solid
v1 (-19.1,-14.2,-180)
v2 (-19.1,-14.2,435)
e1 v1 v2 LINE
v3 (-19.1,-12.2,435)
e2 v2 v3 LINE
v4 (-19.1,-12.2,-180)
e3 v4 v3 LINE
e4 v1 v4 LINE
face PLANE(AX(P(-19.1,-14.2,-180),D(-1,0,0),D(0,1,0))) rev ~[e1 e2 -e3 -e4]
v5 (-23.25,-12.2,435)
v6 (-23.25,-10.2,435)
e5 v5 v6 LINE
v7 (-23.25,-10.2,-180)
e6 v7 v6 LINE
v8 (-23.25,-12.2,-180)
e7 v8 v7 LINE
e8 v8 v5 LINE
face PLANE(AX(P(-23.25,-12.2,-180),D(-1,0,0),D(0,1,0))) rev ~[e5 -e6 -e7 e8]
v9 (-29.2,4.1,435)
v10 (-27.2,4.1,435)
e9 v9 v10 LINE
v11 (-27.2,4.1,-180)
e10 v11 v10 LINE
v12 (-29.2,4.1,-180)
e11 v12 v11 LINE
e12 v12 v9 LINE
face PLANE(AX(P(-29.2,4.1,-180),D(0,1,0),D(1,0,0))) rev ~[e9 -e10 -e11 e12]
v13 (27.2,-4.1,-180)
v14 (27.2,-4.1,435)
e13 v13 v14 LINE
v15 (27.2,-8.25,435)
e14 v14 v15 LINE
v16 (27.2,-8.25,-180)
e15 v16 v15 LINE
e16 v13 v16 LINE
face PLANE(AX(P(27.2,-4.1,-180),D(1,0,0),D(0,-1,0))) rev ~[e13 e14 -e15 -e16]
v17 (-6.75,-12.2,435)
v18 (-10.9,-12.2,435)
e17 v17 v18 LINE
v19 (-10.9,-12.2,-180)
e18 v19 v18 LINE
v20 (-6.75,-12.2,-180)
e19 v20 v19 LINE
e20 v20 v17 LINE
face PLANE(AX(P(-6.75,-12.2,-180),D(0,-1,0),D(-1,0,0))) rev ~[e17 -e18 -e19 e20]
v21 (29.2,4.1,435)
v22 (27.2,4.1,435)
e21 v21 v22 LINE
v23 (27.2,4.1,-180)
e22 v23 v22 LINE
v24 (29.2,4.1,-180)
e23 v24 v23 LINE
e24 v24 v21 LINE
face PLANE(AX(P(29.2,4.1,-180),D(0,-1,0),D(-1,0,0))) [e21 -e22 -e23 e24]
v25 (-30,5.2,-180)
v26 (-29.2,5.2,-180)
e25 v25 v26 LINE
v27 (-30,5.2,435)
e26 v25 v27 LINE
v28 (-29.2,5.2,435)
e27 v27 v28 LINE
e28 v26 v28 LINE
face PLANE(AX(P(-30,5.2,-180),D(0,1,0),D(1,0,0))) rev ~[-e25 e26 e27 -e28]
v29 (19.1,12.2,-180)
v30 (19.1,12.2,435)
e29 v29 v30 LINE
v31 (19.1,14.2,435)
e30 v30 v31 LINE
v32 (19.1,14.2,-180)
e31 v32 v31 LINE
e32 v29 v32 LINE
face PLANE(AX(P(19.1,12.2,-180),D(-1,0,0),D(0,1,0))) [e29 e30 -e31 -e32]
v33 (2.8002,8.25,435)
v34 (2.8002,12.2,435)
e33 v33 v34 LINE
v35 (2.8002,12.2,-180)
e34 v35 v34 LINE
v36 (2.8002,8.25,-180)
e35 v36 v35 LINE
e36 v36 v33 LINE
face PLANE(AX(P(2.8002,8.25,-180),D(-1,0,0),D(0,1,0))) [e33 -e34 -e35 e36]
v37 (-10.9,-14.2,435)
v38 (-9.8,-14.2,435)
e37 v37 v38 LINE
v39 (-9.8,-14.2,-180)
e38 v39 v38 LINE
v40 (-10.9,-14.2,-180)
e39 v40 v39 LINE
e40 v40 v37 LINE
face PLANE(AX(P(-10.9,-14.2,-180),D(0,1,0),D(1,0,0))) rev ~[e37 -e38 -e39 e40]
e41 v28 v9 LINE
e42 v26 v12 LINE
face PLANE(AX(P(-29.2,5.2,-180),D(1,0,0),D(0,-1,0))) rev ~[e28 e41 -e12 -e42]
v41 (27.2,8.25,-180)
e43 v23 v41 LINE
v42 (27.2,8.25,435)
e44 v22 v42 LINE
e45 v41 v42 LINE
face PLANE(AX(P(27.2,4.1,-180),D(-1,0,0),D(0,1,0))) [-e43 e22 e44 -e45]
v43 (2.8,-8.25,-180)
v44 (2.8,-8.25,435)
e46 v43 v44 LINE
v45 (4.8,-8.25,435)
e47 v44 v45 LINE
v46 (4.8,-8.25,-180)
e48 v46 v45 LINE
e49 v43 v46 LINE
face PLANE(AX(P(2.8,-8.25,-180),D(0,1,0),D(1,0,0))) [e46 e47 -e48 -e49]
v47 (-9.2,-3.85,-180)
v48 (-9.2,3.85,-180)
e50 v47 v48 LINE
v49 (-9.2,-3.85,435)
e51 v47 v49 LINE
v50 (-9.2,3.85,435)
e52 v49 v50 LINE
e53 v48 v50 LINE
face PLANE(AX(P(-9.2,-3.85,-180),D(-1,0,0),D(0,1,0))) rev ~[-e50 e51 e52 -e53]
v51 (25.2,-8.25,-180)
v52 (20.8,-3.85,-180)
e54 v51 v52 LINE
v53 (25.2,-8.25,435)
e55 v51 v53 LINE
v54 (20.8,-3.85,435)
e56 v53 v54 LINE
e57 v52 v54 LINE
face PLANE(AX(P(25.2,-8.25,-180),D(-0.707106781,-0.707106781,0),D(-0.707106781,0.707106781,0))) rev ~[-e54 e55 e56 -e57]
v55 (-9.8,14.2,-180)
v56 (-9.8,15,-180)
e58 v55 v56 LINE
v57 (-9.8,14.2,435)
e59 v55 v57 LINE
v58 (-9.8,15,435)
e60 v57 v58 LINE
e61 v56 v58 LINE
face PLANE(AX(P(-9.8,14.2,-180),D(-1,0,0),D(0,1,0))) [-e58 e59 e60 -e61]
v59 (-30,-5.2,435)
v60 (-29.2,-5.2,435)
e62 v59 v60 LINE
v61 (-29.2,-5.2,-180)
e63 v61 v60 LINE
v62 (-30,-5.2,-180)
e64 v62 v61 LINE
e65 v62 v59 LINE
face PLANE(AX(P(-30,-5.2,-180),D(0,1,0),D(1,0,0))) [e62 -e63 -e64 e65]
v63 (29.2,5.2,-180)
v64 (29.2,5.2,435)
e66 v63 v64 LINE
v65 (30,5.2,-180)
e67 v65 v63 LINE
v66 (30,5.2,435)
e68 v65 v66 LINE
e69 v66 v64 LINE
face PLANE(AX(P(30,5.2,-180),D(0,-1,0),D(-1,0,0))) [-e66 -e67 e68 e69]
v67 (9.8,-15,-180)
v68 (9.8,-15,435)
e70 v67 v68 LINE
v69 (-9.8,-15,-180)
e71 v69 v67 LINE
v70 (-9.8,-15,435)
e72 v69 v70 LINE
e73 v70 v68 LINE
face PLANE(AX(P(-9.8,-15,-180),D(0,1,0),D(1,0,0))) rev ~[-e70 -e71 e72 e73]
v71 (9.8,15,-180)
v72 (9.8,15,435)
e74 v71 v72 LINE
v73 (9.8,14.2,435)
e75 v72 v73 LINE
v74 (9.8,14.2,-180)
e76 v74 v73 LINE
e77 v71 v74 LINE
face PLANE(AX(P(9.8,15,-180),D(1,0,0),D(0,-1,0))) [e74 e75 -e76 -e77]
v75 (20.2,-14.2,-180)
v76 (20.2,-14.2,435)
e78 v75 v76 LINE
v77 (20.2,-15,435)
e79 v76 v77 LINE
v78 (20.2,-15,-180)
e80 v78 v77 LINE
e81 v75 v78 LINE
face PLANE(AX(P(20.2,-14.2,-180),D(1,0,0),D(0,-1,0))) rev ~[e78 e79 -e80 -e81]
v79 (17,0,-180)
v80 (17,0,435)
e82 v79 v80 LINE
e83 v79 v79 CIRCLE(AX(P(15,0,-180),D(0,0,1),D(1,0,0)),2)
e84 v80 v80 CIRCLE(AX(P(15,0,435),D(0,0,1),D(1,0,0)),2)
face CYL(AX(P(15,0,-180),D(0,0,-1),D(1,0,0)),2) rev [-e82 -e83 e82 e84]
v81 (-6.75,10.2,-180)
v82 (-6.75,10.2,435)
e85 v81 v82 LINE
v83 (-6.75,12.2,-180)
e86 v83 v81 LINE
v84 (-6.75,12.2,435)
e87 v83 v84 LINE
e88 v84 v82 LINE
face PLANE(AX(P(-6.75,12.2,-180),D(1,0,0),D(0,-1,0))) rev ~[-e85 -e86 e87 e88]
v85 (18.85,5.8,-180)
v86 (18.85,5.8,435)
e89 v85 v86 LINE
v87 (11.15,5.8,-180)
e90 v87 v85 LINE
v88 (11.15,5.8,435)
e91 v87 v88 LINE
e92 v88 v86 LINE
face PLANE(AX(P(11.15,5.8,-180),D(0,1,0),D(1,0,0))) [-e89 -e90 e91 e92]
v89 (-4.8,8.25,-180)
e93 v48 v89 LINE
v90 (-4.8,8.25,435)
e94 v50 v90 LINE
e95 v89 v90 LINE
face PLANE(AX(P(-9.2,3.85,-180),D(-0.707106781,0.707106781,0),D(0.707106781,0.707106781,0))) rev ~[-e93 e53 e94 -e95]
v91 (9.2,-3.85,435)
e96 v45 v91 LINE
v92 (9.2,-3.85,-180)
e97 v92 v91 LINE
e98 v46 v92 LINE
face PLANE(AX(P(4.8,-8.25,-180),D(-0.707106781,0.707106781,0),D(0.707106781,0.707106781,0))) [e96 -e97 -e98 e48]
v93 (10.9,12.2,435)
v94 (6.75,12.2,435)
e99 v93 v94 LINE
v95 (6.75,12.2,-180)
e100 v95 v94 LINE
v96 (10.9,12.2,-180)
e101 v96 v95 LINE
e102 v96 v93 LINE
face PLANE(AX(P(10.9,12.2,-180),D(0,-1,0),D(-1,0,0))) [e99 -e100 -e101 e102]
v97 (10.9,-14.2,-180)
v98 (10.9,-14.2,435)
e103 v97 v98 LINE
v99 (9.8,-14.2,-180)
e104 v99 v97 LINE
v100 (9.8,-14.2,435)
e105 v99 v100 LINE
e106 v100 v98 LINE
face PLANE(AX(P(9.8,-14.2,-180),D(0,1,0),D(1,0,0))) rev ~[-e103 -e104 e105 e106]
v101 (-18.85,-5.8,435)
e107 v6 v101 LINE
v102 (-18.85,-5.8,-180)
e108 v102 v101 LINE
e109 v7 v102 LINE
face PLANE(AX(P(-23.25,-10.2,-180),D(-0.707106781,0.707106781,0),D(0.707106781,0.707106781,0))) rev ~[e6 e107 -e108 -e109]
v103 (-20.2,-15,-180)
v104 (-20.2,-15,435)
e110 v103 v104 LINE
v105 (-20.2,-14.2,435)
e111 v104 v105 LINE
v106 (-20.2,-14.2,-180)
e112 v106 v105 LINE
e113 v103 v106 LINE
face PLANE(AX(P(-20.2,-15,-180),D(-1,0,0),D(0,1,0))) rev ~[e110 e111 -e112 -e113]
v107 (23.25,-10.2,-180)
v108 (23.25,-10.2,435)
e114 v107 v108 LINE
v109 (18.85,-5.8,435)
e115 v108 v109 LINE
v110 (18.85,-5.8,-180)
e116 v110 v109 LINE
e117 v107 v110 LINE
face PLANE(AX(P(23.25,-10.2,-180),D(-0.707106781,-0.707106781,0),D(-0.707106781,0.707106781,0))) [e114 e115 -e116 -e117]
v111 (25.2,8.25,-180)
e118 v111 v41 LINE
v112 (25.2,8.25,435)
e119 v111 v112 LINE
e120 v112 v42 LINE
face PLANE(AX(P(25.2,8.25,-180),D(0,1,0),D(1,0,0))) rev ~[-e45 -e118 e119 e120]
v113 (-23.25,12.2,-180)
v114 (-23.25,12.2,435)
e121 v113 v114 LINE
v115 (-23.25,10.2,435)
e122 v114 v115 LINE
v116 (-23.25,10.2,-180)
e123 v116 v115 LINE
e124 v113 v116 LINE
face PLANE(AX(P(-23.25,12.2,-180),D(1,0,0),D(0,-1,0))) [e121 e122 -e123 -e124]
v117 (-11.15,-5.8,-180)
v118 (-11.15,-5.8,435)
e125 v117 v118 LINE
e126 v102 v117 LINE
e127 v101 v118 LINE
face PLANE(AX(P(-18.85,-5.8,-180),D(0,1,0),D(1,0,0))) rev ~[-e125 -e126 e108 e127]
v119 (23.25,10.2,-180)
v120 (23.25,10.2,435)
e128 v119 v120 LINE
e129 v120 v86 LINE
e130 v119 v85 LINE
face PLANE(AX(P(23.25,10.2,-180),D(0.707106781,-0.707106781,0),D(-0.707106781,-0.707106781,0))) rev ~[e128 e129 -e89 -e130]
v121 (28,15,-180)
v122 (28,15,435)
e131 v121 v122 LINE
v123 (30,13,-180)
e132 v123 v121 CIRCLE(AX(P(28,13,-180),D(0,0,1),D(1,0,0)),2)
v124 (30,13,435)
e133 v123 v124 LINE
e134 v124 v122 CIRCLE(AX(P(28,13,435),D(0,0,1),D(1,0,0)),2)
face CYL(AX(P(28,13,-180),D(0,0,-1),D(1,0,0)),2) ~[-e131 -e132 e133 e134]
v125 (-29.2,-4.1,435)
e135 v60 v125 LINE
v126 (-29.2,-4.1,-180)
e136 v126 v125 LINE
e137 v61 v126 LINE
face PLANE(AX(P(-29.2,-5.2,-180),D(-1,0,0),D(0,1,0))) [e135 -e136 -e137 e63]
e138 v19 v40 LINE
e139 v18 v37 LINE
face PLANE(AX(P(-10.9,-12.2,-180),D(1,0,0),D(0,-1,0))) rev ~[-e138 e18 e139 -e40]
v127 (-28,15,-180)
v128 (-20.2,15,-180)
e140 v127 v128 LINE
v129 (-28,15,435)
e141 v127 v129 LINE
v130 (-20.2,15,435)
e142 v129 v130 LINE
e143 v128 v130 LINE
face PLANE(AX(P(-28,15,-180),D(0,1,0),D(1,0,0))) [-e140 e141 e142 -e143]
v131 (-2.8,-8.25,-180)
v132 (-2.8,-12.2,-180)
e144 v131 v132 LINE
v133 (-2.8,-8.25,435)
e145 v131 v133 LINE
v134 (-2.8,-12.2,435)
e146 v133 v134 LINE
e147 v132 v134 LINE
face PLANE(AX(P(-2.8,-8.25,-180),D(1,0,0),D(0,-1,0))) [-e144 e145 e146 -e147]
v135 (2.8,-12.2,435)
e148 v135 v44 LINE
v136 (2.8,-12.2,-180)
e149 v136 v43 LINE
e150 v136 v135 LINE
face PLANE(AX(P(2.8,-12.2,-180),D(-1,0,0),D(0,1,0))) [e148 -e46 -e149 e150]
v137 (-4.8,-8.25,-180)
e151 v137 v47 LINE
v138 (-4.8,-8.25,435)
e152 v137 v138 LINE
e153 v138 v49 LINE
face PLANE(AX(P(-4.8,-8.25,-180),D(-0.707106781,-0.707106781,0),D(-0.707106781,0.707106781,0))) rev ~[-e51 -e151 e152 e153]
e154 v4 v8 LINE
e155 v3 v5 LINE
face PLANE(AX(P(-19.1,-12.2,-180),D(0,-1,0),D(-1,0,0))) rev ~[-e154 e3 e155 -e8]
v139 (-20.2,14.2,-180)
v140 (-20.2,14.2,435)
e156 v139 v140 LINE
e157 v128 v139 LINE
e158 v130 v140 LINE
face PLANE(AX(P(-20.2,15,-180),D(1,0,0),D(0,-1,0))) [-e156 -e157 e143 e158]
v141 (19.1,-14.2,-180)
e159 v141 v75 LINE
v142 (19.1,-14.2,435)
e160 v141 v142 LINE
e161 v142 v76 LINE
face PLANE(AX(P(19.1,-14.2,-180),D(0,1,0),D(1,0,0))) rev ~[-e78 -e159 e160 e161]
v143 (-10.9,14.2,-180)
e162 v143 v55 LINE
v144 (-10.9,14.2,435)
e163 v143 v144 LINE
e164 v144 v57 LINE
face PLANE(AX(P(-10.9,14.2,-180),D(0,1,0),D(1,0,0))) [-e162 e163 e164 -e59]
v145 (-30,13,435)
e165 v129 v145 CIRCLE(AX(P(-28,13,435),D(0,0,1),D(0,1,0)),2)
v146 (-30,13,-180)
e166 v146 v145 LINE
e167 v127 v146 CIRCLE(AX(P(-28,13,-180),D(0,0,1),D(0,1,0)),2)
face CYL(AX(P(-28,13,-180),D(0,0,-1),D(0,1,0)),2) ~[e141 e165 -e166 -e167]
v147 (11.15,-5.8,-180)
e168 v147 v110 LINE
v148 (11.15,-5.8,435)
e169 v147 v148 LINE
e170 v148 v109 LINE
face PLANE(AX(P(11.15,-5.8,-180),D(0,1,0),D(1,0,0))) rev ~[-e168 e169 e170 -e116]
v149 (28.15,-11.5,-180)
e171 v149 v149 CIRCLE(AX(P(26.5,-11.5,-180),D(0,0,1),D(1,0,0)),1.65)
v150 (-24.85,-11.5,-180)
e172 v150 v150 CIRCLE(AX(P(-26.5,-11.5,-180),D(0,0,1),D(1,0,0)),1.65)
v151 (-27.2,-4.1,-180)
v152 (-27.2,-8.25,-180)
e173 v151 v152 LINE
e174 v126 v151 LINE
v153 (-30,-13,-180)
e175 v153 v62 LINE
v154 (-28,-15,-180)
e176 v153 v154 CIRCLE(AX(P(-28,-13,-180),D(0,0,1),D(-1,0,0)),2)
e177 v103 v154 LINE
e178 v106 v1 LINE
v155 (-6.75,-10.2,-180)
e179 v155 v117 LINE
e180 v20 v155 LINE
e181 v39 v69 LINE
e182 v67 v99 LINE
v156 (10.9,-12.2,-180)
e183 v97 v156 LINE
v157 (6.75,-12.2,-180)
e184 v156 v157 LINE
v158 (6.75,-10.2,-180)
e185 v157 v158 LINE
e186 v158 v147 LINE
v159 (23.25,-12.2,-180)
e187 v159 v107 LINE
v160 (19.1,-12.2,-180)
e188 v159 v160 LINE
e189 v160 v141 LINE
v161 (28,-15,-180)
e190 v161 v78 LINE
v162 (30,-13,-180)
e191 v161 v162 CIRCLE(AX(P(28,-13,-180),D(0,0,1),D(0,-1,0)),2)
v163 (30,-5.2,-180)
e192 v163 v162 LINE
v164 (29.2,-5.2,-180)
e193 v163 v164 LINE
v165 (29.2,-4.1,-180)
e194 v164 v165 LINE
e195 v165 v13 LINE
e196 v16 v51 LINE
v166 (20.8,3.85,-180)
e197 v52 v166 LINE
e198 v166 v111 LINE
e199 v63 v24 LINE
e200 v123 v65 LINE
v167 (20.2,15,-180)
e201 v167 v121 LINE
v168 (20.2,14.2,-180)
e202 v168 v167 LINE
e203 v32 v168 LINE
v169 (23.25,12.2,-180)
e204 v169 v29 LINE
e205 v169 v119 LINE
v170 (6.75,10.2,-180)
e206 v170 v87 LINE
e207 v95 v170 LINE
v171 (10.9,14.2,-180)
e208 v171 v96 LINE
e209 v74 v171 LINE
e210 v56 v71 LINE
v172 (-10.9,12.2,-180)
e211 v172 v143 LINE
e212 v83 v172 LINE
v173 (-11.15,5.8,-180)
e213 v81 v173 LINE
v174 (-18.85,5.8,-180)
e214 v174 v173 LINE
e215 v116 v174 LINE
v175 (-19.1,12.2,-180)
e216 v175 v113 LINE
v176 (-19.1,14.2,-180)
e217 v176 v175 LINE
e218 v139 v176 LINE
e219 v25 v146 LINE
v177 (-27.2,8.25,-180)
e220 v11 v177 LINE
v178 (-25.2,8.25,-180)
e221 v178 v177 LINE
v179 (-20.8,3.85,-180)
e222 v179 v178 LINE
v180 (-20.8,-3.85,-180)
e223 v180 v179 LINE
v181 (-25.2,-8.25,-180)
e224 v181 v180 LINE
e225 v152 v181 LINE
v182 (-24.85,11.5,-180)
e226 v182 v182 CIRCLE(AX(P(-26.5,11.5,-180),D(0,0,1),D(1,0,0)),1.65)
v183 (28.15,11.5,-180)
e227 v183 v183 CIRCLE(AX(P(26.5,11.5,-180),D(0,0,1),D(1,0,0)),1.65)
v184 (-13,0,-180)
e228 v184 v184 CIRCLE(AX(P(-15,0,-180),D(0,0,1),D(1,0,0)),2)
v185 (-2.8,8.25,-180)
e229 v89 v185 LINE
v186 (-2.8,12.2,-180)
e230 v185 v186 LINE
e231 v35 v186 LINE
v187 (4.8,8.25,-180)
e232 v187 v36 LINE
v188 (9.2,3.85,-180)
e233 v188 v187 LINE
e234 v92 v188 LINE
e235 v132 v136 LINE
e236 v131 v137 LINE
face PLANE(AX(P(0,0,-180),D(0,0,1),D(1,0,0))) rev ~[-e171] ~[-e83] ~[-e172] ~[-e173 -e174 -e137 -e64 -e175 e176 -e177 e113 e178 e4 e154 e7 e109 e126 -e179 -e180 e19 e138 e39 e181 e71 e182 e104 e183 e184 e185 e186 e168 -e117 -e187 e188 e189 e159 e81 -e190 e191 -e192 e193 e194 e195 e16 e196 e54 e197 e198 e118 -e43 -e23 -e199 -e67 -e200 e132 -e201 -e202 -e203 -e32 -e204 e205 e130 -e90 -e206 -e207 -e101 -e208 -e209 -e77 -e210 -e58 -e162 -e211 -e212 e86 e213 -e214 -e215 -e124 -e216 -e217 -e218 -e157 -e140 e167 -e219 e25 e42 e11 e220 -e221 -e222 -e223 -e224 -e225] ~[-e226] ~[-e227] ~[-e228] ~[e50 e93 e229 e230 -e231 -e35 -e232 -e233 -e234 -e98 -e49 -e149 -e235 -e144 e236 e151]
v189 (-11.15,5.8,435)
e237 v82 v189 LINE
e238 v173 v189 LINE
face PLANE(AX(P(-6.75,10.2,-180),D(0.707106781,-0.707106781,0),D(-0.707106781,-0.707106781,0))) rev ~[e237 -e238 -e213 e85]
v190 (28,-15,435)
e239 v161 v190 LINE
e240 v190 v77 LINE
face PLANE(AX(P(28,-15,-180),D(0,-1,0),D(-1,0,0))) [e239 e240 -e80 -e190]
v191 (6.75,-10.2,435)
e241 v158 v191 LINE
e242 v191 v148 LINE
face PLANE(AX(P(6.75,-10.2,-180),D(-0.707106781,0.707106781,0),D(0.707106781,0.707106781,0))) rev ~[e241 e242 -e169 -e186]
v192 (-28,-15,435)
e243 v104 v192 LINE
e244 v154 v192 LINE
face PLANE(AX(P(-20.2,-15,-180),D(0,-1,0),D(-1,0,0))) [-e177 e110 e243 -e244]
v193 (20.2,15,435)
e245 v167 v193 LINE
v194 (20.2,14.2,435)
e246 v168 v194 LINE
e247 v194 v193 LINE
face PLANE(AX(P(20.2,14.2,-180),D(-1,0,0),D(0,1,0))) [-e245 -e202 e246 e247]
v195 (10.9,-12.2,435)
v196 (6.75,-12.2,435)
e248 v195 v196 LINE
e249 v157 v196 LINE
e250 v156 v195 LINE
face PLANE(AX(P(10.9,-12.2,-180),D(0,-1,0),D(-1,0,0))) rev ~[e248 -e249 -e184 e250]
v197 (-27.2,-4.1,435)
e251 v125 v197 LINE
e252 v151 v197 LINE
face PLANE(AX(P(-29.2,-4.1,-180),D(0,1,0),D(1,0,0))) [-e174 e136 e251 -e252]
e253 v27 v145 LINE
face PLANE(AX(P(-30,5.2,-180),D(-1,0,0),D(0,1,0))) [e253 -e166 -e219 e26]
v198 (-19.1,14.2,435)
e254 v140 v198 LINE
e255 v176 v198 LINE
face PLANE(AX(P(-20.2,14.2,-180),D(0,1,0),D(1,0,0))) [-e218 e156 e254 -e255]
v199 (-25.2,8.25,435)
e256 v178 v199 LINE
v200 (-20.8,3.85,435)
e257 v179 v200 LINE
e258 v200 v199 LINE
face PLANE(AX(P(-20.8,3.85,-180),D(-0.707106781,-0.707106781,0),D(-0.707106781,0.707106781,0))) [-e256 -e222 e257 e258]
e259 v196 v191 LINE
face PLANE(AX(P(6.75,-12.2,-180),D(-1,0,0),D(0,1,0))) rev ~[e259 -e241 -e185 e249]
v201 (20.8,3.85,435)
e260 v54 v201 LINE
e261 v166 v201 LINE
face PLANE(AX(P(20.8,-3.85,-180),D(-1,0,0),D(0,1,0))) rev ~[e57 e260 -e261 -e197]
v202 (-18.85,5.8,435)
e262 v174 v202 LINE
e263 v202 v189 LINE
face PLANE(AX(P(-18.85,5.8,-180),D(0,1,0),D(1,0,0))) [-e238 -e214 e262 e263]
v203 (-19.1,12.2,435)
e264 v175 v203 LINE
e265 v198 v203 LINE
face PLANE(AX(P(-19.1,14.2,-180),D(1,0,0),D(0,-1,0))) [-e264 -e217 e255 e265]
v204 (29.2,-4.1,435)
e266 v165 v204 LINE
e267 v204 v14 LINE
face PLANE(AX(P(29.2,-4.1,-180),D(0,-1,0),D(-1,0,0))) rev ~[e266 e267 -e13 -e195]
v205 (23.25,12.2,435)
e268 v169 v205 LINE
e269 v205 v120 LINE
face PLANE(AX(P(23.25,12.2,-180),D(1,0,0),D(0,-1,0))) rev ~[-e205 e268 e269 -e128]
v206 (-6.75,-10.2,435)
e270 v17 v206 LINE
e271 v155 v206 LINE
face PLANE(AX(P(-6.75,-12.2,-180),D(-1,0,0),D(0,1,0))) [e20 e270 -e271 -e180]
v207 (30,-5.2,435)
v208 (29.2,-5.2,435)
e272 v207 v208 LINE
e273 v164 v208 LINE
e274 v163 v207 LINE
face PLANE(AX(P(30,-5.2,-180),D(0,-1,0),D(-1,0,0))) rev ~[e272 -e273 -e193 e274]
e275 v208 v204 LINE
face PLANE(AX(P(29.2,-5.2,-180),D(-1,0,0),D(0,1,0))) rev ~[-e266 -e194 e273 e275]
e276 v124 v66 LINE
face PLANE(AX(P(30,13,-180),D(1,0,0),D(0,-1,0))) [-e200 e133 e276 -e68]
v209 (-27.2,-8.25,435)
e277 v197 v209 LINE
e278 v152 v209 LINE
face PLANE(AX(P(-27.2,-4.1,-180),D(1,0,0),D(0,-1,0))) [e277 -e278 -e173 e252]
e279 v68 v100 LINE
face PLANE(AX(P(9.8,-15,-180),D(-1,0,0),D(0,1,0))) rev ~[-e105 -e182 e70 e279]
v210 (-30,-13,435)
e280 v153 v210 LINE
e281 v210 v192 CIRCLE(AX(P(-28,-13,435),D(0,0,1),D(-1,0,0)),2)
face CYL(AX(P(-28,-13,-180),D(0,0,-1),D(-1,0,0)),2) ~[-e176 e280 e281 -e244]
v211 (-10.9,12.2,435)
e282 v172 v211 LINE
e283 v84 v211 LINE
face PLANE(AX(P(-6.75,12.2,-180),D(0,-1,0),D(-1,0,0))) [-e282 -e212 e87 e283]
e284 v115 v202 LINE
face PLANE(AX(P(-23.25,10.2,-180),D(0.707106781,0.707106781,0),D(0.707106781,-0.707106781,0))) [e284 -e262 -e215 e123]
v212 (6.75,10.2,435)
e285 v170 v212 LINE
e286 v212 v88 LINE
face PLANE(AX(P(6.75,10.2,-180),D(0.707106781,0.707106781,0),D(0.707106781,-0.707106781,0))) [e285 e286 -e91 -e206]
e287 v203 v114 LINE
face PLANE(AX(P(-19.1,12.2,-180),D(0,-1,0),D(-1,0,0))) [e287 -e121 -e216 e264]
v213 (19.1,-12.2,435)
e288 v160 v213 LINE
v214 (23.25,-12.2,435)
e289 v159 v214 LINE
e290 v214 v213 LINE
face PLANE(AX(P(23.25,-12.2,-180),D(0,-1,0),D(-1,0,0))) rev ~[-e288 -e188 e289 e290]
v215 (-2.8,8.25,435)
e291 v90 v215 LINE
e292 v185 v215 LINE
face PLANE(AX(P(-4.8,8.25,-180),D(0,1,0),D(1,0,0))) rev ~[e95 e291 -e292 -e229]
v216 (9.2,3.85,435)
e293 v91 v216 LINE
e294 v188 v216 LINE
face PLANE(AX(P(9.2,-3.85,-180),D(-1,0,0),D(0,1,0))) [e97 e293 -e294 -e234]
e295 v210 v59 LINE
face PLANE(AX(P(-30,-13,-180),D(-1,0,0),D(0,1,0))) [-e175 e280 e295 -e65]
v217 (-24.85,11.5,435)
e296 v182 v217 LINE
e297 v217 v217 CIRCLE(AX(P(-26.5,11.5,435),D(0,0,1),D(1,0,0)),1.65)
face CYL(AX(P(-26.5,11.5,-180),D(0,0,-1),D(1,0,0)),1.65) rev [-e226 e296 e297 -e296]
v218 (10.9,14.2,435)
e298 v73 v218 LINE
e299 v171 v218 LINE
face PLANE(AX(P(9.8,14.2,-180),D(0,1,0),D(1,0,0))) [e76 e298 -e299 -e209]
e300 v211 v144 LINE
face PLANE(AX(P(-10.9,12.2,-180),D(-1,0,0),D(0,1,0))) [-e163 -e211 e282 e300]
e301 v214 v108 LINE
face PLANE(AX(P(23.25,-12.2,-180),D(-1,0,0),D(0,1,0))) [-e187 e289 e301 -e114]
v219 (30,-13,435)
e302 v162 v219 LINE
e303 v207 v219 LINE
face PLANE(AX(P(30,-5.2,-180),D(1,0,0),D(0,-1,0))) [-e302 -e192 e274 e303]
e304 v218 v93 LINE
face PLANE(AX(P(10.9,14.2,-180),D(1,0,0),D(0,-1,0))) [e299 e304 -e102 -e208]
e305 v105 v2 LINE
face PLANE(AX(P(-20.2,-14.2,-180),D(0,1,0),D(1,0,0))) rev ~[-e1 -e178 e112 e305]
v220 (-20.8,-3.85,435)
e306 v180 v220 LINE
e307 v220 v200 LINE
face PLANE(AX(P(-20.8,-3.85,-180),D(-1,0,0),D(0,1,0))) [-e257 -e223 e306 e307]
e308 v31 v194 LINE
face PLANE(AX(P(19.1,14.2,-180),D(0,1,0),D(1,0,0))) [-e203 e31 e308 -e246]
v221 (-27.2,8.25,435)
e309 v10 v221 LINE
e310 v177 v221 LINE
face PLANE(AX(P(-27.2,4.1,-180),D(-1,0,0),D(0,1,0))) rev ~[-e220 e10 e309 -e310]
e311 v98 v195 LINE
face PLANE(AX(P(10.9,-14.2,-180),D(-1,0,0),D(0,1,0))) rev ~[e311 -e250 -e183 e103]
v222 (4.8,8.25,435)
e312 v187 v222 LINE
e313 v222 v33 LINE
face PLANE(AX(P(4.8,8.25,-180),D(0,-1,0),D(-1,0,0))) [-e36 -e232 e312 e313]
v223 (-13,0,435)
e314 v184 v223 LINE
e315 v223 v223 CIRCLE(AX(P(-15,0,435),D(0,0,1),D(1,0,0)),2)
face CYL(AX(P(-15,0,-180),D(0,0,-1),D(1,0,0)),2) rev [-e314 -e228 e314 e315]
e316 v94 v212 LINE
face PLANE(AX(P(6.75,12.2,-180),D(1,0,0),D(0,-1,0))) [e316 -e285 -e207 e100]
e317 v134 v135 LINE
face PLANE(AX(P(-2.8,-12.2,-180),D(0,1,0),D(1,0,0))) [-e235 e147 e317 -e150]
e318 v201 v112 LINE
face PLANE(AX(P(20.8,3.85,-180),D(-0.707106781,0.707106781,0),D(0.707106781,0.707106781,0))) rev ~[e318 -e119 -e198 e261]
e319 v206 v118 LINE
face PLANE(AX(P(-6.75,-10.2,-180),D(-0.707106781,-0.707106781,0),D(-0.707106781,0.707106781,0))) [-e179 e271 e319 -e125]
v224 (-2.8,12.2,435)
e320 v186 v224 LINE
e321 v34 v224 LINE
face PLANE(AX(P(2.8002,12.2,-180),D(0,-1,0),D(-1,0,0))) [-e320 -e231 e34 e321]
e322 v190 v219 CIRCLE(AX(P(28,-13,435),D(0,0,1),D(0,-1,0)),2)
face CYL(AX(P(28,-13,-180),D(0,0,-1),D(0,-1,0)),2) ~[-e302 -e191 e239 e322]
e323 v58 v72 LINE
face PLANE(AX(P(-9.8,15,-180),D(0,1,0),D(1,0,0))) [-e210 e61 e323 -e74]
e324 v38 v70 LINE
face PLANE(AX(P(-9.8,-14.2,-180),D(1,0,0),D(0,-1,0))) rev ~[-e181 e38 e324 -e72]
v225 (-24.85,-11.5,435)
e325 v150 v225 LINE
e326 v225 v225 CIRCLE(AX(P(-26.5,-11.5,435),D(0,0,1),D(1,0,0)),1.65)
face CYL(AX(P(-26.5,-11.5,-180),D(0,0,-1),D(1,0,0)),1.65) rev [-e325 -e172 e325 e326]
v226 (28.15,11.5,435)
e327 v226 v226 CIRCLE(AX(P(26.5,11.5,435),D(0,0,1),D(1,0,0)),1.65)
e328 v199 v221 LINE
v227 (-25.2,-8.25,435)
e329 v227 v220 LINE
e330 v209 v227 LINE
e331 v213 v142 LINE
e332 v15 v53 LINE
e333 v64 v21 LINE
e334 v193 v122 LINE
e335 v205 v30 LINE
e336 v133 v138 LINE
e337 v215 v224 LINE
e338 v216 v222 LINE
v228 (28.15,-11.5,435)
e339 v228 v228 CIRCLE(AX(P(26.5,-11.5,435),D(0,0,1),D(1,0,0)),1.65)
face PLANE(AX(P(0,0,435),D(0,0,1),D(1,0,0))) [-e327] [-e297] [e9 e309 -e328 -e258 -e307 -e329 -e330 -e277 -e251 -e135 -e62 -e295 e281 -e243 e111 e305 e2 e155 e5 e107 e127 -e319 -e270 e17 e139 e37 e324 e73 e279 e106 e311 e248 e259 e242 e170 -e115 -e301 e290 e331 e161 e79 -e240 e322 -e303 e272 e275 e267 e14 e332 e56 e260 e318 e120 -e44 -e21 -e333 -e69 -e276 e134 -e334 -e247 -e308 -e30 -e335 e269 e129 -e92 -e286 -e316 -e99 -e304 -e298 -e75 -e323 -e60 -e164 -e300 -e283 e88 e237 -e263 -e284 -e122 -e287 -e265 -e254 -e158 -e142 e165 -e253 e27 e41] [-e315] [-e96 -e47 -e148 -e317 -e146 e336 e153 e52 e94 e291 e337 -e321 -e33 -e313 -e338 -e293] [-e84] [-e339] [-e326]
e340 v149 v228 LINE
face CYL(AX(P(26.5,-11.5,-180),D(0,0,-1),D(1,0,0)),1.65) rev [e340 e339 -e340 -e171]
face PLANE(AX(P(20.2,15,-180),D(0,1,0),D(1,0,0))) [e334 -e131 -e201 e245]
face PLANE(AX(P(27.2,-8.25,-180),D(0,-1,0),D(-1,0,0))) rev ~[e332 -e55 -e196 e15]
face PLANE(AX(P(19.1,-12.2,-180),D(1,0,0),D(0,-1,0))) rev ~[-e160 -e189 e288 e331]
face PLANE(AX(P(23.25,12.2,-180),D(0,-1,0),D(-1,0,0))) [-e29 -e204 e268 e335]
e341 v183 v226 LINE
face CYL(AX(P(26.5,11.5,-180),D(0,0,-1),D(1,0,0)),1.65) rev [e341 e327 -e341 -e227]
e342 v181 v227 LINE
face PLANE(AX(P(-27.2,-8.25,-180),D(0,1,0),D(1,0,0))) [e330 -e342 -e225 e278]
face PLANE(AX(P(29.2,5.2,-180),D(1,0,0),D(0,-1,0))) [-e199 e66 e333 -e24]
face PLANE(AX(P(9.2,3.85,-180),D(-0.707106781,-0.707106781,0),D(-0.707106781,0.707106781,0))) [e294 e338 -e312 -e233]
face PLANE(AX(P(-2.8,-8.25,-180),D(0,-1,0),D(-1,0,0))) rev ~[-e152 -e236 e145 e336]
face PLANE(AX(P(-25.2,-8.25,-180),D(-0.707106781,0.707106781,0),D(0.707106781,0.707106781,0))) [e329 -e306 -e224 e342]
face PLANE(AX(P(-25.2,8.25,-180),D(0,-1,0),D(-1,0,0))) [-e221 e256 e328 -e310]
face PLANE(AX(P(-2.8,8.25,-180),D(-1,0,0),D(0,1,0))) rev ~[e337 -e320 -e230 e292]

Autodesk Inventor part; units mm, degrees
ref_plane "Start Plane" through (0, 0, -180) normal (0, 0, 1) x (1, 0, 0)
ref_plane "End Plane" through (0, 0, 435) normal (0, 0, 1) x (1, 0, 0)
sketch "Sketch" plane through (0, 0, 0) normal (0, 0, 1) x (1, 0, 0)
  line L0 (-30, 15) -> (0, -15) construction
  line L1 (0, 15) -> (-30, -15) construction
  line L2 (-20.2, 15) -> (-20.2, 14.2)
  line L3 (-20.2, 14.2) -> (-19.1, 14.2)
  line L4 (-19.1, 14.2) -> (-19.1, 12.2)
  line L5 (-19.1, 12.2) -> (-23.25, 12.2)
  line L6 (-23.25, 12.2) -> (-23.25, 10.2)
  line L7 (-23.25, 10.2) -> (-18.85, 5.8)
  line L8 (-18.85, 5.8) -> (-11.15, 5.8)
  line L9 (-6.75, 12.2) -> (-10.9, 12.2)
  line L10 (-10.9, 12.2) -> (-10.9, 14.2)
  line L11 (-10.9, 14.2) -> (-9.8, 14.2)
  line L12 (-9.8, 14.2) -> (-9.8, 15)
  line L13 (-6.75, 12.2) -> (-6.75, 10.2)
  line L14 (-6.75, 10.2) -> (-11.15, 5.8)
  line L15 (-20.2, -15) -> (-20.2, -14.2)
  line L16 (-20.2, -14.2) -> (-19.1, -14.2)
  line L17 (-19.1, -14.2) -> (-19.1, -12.2)
  line L18 (-19.1, -12.2) -> (-23.25, -12.2)
  line L19 (-23.25, -12.2) -> (-23.25, -10.2)
  line L20 (-23.25, -10.2) -> (-18.85, -5.8)
  line L21 (-18.85, -5.8) -> (-11.15, -5.8)
  line L22 (-6.75, -10.2) -> (-11.15, -5.8)
  line L23 (-6.75, -12.2) -> (-6.75, -10.2)
  line L24 (-6.75, -12.2) -> (-10.9, -12.2)
  line L25 (-10.9, -12.2) -> (-10.9, -14.2)
  line L26 (-10.9, -14.2) -> (-9.8, -14.2)
  line L27 (-9.8, -14.2) -> (-9.8, -15)
  line L28 (-2.8, -8.25) -> (-4.8, -8.25)
  line L29 (-4.8, -8.25) -> (-9.2, -3.85)
  line L30 (-9.2, -3.85) -> (-9.2, 3.85)
  line L31 (-9.2, 3.85) -> (-4.8, 8.25)
  line L32 (-4.8, 8.25) -> (-2.8, 8.25)
  line L33 (-30, 5.2) -> (-29.2, 5.2)
  line L34 (-29.2, 5.2) -> (-29.2, 4.1)
  line L35 (-29.2, 4.1) -> (-27.2, 4.1)
  line L36 (-27.2, 4.1) -> (-27.2, 8.25)
  line L37 (-25.2, 8.25) -> (-27.2, 8.25)
  line L38 (-20.8, 3.85) -> (-25.2, 8.25)
  line L39 (-20.8, -3.85) -> (-20.8, 3.85)
  line L40 (-25.2, -8.25) -> (-20.8, -3.85)
  line L41 (-27.2, -4.1) -> (-27.2, -8.25)
  line L42 (-29.2, -4.1) -> (-27.2, -4.1)
  line L43 (-29.2, -5.2) -> (-29.2, -4.1)
  line L44 (-30, -5.2) -> (-29.2, -5.2)
  line L45 (-27.2, -8.25) -> (-25.2, -8.25)
  circle A0 centre (-26.5, 11.5) radius 1.65
  circle A1 centre (-26.5, -11.5) radius 1.65
  line L46 (-30, -13) -> (-30, -5.2)
  line L47 (-30, 5.2) -> (-30, 13)
  line L48 (-20.2, -15) -> (-28, -15)
  line L49 (0, 15) -> (30, -15) construction
  line L50 (30, 15) -> (0, -15) construction
  line L51 (9.8, 15) -> (9.8, 14.2)
  line L52 (9.8, 14.2) -> (10.9, 14.2)
  line L53 (10.9, 14.2) -> (10.9, 12.2)
  line L54 (10.9, 12.2) -> (6.75, 12.2)
  line L55 (6.75, 12.2) -> (6.75, 10.2)
  line L56 (6.75, 10.2) -> (11.15, 5.8)
  line L57 (11.15, 5.8) -> (18.85, 5.8)
  line L58 (23.25, 12.2) -> (19.1, 12.2)
  line L59 (19.1, 12.2) -> (19.1, 14.2)
  line L60 (19.1, 14.2) -> (20.2, 14.2)
  line L61 (20.2, 14.2) -> (20.2, 15)
  line L62 (23.25, 12.2) -> (23.25, 10.2)
  line L63 (23.25, 10.2) -> (18.85, 5.8)
  line L64 (9.8, -15) -> (9.8, -14.2)
  line L65 (9.8, -14.2) -> (10.9, -14.2)
  line L66 (10.9, -14.2) -> (10.9, -12.2)
  line L67 (10.9, -12.2) -> (6.75, -12.2)
  line L68 (6.75, -12.2) -> (6.75, -10.2)
  line L69 (6.75, -10.2) -> (11.15, -5.8)
  line L70 (11.15, -5.8) -> (18.85, -5.8)
  line L71 (23.25, -10.2) -> (18.85, -5.8)
  line L72 (23.25, -12.2) -> (23.25, -10.2)
  line L73 (23.25, -12.2) -> (19.1, -12.2)
  line L74 (19.1, -12.2) -> (19.1, -14.2)
  line L75 (19.1, -14.2) -> (20.2, -14.2)
  line L76 (20.2, -14.2) -> (20.2, -15)
  line L77 (30, 5.2) -> (29.2, 5.2)
  line L78 (29.2, 5.2) -> (29.2, 4.1)
  line L79 (29.2, 4.1) -> (27.2, 4.1)
  line L80 (27.2, 4.1) -> (27.2, 8.25)
  line L81 (30, -5.2) -> (29.2, -5.2)
  line L82 (29.2, -5.2) -> (29.2, -4.1)
  line L83 (29.2, -4.1) -> (27.2, -4.1)
  line L84 (27.2, -4.1) -> (27.2, -8.25)
  line L85 (27.2, -8.25) -> (25.2, -8.25)
  line L86 (25.2, -8.25) -> (20.8, -3.85)
  line L87 (20.8, -3.85) -> (20.8, 3.85)
  line L88 (20.8, 3.85) -> (25.2, 8.25)
  line L89 (25.2, 8.25) -> (27.2, 8.25)
  line L90 (4.8, 8.25) -> (2.8002, 8.25)
  line L91 (9.2, 3.85) -> (4.8, 8.25)
  line L92 (9.2, -3.85) -> (9.2, 3.85)
  line L93 (4.8, -8.25) -> (9.2, -3.85)
  line L94 (2.8, -8.25) -> (4.8, -8.25)
  circle A2 centre (26.5, 11.5) radius 1.65
  circle A3 centre (26.5, -11.5) radius 1.65
  line L95 (28, -15) -> (20.2, -15)
  circle A4 centre (-15, 0) radius 2
  circle A5 centre (15, 0) radius 2
  line L96 (-2.8, 8.25) -> (-2.8, 12.2)
  line L97 (2.8002, 8.25) -> (2.8002, 12.2)
  line L98 (2.8002, 12.2) -> (-2.8, 12.2)
  line L99 (-2.8, -8.25) -> (-2.8, -12.2)
  line L100 (-2.8, -12.2) -> (2.8, -12.2)
  line L101 (2.8, -12.2) -> (2.8, -8.25)
  line L102 (30, 13) -> (30, 5.2)
  line L103 (30, -5.2) -> (30, -13)
  arc A6 (-28, 15) -> (-30, 13) centre (-28, 13) ccw
  arc A7 (30, 13) -> (28, 15) centre (28, 13) ccw
  arc A8 (28, -15) -> (30, -13) centre (28, -13) ccw
  arc A9 (-30, -13) -> (-28, -15) centre (-28, -13) ccw
  line L104 (-28, 15) -> (-20.2, 15)
  line L105 (20.2, 15) -> (28, 15)
  line L106 (-9.8, -15) -> (9.8, -15)
  line L107 (-9.8, 15) -> (9.8, 15)
  point P0 (0, 0)
  point P1 (-15, 0)
  point P2 (-15, 0)
  point P3 (15, 0)
  point P4 (15, 0)
  point P5 (0, -15)
  dimension "d0" = 8.2
  dimension "d2" = 10.4
  dimension "d7" = 16.5
  dimension "d9" = 0.8
  dimension "d10" = 2
  dimension "d11" = 2
  dimension "d20" = 2
  dimension "d27" = 8.2
  dimension "d29" = 10.4
  dimension "d34" = 16.5
  dimension "d36" = 0.8
  dimension "d37" = 2
  dimension "d38" = 2
  dimension "d39" = 0.8
  dimension "d40" = 10.4
  dimension "d42" = 8.2
  dimension "d44" = 2
  dimension "d45" = 16.5
  dimension "d47" = 2
  dimension "d49" = 23
  dimension "d50" = 11.5
  dimension "d52" = 11.5
  dimension "d53" = 3.3
  dimension "d54" = 10.9
  dimension "d56" = 7.7
  dimension "d58" = 18.4
  dimension "d59" = 90
  dimension "d63" = 135
  dimension "d64" = 3.5
  dimension "d65" = 4
  dimension "d75" = 0.8
  dimension "d76" = 1.1
  dimension "d77" = 2
  dimension "d78" = 4.4
  dimension "d82" = 0.8
  dimension "d83" = 8.2
  dimension "d84" = 8.2
  dimension "d85" = 0.8
  dimension "d86" = 1.1
  dimension "d87" = 2
  dimension "d88" = 1.1
  dimension "d89" = 0.8
  dimension "d90" = 4.15
  dimension "d91" = 4.15
  dimension "d94" = 4.4
  dimension "d95" = 6.4
  dimension "d96" = 4.4
  dimension "d97" = 3.85
  dimension "d98" = 45
  dimension "d99" = 4.1
  dimension "d100" = 8.25
  dimension "d101" = 4.1
  dimension "d102" = 6.3
  dimension "d103" = 3.3
  dimension "d105" = 2
  dimension "d106" = 2.7577
  dimension "d107" = 6.2225
  dimension "d108" = 3.25
  dimension "d109" = 4.1
  dimension "d110" = 5.2
  dimension "d111" = 5.8
  dimension "d112" = 2.7577
  dimension "d113" = 2.7577
  dimension "d114" = 6.2225
extrude "Body" add sketch "Sketch" along normal up to surface (615 mm away) from surface at -180
sketch "Sketch4" plane through (0, 0, 0) normal (0, 0, 1) x (1, 0, 0)
  line L0 (0, 0) -> (10, 0)
ref_plane "Work Plane3" through (0, 0, 0) normal (0, -1, 0) x (1, 0, 0)
sketch "Sketch5" plane through (0, 0, 0) normal (0, -1, 0) x (1, 0, 0)
  line L0 (-2, -180) -> (12, -180)
  line L1 (-2, 435) -> (12, 435)
  dimension "d178" = 615
ref_plane "Work Plane4" through (-370, -13, 435) normal (0, 0, 1) x (1, 0, 0)
split "Split1" plane through (-370, -13, 435) removes the side toward (0, 0, 1)
equation "\"d50\" = 0.5 * d49"
equation "\"d52\" = 0.5 * d51"
equation "\"G_OFFSET_END\" = -15"
equation "\"G_L\" = 615"
equation "\"d51\" = 23"
properties part number "615 mm" material "Aluminum 6061"
